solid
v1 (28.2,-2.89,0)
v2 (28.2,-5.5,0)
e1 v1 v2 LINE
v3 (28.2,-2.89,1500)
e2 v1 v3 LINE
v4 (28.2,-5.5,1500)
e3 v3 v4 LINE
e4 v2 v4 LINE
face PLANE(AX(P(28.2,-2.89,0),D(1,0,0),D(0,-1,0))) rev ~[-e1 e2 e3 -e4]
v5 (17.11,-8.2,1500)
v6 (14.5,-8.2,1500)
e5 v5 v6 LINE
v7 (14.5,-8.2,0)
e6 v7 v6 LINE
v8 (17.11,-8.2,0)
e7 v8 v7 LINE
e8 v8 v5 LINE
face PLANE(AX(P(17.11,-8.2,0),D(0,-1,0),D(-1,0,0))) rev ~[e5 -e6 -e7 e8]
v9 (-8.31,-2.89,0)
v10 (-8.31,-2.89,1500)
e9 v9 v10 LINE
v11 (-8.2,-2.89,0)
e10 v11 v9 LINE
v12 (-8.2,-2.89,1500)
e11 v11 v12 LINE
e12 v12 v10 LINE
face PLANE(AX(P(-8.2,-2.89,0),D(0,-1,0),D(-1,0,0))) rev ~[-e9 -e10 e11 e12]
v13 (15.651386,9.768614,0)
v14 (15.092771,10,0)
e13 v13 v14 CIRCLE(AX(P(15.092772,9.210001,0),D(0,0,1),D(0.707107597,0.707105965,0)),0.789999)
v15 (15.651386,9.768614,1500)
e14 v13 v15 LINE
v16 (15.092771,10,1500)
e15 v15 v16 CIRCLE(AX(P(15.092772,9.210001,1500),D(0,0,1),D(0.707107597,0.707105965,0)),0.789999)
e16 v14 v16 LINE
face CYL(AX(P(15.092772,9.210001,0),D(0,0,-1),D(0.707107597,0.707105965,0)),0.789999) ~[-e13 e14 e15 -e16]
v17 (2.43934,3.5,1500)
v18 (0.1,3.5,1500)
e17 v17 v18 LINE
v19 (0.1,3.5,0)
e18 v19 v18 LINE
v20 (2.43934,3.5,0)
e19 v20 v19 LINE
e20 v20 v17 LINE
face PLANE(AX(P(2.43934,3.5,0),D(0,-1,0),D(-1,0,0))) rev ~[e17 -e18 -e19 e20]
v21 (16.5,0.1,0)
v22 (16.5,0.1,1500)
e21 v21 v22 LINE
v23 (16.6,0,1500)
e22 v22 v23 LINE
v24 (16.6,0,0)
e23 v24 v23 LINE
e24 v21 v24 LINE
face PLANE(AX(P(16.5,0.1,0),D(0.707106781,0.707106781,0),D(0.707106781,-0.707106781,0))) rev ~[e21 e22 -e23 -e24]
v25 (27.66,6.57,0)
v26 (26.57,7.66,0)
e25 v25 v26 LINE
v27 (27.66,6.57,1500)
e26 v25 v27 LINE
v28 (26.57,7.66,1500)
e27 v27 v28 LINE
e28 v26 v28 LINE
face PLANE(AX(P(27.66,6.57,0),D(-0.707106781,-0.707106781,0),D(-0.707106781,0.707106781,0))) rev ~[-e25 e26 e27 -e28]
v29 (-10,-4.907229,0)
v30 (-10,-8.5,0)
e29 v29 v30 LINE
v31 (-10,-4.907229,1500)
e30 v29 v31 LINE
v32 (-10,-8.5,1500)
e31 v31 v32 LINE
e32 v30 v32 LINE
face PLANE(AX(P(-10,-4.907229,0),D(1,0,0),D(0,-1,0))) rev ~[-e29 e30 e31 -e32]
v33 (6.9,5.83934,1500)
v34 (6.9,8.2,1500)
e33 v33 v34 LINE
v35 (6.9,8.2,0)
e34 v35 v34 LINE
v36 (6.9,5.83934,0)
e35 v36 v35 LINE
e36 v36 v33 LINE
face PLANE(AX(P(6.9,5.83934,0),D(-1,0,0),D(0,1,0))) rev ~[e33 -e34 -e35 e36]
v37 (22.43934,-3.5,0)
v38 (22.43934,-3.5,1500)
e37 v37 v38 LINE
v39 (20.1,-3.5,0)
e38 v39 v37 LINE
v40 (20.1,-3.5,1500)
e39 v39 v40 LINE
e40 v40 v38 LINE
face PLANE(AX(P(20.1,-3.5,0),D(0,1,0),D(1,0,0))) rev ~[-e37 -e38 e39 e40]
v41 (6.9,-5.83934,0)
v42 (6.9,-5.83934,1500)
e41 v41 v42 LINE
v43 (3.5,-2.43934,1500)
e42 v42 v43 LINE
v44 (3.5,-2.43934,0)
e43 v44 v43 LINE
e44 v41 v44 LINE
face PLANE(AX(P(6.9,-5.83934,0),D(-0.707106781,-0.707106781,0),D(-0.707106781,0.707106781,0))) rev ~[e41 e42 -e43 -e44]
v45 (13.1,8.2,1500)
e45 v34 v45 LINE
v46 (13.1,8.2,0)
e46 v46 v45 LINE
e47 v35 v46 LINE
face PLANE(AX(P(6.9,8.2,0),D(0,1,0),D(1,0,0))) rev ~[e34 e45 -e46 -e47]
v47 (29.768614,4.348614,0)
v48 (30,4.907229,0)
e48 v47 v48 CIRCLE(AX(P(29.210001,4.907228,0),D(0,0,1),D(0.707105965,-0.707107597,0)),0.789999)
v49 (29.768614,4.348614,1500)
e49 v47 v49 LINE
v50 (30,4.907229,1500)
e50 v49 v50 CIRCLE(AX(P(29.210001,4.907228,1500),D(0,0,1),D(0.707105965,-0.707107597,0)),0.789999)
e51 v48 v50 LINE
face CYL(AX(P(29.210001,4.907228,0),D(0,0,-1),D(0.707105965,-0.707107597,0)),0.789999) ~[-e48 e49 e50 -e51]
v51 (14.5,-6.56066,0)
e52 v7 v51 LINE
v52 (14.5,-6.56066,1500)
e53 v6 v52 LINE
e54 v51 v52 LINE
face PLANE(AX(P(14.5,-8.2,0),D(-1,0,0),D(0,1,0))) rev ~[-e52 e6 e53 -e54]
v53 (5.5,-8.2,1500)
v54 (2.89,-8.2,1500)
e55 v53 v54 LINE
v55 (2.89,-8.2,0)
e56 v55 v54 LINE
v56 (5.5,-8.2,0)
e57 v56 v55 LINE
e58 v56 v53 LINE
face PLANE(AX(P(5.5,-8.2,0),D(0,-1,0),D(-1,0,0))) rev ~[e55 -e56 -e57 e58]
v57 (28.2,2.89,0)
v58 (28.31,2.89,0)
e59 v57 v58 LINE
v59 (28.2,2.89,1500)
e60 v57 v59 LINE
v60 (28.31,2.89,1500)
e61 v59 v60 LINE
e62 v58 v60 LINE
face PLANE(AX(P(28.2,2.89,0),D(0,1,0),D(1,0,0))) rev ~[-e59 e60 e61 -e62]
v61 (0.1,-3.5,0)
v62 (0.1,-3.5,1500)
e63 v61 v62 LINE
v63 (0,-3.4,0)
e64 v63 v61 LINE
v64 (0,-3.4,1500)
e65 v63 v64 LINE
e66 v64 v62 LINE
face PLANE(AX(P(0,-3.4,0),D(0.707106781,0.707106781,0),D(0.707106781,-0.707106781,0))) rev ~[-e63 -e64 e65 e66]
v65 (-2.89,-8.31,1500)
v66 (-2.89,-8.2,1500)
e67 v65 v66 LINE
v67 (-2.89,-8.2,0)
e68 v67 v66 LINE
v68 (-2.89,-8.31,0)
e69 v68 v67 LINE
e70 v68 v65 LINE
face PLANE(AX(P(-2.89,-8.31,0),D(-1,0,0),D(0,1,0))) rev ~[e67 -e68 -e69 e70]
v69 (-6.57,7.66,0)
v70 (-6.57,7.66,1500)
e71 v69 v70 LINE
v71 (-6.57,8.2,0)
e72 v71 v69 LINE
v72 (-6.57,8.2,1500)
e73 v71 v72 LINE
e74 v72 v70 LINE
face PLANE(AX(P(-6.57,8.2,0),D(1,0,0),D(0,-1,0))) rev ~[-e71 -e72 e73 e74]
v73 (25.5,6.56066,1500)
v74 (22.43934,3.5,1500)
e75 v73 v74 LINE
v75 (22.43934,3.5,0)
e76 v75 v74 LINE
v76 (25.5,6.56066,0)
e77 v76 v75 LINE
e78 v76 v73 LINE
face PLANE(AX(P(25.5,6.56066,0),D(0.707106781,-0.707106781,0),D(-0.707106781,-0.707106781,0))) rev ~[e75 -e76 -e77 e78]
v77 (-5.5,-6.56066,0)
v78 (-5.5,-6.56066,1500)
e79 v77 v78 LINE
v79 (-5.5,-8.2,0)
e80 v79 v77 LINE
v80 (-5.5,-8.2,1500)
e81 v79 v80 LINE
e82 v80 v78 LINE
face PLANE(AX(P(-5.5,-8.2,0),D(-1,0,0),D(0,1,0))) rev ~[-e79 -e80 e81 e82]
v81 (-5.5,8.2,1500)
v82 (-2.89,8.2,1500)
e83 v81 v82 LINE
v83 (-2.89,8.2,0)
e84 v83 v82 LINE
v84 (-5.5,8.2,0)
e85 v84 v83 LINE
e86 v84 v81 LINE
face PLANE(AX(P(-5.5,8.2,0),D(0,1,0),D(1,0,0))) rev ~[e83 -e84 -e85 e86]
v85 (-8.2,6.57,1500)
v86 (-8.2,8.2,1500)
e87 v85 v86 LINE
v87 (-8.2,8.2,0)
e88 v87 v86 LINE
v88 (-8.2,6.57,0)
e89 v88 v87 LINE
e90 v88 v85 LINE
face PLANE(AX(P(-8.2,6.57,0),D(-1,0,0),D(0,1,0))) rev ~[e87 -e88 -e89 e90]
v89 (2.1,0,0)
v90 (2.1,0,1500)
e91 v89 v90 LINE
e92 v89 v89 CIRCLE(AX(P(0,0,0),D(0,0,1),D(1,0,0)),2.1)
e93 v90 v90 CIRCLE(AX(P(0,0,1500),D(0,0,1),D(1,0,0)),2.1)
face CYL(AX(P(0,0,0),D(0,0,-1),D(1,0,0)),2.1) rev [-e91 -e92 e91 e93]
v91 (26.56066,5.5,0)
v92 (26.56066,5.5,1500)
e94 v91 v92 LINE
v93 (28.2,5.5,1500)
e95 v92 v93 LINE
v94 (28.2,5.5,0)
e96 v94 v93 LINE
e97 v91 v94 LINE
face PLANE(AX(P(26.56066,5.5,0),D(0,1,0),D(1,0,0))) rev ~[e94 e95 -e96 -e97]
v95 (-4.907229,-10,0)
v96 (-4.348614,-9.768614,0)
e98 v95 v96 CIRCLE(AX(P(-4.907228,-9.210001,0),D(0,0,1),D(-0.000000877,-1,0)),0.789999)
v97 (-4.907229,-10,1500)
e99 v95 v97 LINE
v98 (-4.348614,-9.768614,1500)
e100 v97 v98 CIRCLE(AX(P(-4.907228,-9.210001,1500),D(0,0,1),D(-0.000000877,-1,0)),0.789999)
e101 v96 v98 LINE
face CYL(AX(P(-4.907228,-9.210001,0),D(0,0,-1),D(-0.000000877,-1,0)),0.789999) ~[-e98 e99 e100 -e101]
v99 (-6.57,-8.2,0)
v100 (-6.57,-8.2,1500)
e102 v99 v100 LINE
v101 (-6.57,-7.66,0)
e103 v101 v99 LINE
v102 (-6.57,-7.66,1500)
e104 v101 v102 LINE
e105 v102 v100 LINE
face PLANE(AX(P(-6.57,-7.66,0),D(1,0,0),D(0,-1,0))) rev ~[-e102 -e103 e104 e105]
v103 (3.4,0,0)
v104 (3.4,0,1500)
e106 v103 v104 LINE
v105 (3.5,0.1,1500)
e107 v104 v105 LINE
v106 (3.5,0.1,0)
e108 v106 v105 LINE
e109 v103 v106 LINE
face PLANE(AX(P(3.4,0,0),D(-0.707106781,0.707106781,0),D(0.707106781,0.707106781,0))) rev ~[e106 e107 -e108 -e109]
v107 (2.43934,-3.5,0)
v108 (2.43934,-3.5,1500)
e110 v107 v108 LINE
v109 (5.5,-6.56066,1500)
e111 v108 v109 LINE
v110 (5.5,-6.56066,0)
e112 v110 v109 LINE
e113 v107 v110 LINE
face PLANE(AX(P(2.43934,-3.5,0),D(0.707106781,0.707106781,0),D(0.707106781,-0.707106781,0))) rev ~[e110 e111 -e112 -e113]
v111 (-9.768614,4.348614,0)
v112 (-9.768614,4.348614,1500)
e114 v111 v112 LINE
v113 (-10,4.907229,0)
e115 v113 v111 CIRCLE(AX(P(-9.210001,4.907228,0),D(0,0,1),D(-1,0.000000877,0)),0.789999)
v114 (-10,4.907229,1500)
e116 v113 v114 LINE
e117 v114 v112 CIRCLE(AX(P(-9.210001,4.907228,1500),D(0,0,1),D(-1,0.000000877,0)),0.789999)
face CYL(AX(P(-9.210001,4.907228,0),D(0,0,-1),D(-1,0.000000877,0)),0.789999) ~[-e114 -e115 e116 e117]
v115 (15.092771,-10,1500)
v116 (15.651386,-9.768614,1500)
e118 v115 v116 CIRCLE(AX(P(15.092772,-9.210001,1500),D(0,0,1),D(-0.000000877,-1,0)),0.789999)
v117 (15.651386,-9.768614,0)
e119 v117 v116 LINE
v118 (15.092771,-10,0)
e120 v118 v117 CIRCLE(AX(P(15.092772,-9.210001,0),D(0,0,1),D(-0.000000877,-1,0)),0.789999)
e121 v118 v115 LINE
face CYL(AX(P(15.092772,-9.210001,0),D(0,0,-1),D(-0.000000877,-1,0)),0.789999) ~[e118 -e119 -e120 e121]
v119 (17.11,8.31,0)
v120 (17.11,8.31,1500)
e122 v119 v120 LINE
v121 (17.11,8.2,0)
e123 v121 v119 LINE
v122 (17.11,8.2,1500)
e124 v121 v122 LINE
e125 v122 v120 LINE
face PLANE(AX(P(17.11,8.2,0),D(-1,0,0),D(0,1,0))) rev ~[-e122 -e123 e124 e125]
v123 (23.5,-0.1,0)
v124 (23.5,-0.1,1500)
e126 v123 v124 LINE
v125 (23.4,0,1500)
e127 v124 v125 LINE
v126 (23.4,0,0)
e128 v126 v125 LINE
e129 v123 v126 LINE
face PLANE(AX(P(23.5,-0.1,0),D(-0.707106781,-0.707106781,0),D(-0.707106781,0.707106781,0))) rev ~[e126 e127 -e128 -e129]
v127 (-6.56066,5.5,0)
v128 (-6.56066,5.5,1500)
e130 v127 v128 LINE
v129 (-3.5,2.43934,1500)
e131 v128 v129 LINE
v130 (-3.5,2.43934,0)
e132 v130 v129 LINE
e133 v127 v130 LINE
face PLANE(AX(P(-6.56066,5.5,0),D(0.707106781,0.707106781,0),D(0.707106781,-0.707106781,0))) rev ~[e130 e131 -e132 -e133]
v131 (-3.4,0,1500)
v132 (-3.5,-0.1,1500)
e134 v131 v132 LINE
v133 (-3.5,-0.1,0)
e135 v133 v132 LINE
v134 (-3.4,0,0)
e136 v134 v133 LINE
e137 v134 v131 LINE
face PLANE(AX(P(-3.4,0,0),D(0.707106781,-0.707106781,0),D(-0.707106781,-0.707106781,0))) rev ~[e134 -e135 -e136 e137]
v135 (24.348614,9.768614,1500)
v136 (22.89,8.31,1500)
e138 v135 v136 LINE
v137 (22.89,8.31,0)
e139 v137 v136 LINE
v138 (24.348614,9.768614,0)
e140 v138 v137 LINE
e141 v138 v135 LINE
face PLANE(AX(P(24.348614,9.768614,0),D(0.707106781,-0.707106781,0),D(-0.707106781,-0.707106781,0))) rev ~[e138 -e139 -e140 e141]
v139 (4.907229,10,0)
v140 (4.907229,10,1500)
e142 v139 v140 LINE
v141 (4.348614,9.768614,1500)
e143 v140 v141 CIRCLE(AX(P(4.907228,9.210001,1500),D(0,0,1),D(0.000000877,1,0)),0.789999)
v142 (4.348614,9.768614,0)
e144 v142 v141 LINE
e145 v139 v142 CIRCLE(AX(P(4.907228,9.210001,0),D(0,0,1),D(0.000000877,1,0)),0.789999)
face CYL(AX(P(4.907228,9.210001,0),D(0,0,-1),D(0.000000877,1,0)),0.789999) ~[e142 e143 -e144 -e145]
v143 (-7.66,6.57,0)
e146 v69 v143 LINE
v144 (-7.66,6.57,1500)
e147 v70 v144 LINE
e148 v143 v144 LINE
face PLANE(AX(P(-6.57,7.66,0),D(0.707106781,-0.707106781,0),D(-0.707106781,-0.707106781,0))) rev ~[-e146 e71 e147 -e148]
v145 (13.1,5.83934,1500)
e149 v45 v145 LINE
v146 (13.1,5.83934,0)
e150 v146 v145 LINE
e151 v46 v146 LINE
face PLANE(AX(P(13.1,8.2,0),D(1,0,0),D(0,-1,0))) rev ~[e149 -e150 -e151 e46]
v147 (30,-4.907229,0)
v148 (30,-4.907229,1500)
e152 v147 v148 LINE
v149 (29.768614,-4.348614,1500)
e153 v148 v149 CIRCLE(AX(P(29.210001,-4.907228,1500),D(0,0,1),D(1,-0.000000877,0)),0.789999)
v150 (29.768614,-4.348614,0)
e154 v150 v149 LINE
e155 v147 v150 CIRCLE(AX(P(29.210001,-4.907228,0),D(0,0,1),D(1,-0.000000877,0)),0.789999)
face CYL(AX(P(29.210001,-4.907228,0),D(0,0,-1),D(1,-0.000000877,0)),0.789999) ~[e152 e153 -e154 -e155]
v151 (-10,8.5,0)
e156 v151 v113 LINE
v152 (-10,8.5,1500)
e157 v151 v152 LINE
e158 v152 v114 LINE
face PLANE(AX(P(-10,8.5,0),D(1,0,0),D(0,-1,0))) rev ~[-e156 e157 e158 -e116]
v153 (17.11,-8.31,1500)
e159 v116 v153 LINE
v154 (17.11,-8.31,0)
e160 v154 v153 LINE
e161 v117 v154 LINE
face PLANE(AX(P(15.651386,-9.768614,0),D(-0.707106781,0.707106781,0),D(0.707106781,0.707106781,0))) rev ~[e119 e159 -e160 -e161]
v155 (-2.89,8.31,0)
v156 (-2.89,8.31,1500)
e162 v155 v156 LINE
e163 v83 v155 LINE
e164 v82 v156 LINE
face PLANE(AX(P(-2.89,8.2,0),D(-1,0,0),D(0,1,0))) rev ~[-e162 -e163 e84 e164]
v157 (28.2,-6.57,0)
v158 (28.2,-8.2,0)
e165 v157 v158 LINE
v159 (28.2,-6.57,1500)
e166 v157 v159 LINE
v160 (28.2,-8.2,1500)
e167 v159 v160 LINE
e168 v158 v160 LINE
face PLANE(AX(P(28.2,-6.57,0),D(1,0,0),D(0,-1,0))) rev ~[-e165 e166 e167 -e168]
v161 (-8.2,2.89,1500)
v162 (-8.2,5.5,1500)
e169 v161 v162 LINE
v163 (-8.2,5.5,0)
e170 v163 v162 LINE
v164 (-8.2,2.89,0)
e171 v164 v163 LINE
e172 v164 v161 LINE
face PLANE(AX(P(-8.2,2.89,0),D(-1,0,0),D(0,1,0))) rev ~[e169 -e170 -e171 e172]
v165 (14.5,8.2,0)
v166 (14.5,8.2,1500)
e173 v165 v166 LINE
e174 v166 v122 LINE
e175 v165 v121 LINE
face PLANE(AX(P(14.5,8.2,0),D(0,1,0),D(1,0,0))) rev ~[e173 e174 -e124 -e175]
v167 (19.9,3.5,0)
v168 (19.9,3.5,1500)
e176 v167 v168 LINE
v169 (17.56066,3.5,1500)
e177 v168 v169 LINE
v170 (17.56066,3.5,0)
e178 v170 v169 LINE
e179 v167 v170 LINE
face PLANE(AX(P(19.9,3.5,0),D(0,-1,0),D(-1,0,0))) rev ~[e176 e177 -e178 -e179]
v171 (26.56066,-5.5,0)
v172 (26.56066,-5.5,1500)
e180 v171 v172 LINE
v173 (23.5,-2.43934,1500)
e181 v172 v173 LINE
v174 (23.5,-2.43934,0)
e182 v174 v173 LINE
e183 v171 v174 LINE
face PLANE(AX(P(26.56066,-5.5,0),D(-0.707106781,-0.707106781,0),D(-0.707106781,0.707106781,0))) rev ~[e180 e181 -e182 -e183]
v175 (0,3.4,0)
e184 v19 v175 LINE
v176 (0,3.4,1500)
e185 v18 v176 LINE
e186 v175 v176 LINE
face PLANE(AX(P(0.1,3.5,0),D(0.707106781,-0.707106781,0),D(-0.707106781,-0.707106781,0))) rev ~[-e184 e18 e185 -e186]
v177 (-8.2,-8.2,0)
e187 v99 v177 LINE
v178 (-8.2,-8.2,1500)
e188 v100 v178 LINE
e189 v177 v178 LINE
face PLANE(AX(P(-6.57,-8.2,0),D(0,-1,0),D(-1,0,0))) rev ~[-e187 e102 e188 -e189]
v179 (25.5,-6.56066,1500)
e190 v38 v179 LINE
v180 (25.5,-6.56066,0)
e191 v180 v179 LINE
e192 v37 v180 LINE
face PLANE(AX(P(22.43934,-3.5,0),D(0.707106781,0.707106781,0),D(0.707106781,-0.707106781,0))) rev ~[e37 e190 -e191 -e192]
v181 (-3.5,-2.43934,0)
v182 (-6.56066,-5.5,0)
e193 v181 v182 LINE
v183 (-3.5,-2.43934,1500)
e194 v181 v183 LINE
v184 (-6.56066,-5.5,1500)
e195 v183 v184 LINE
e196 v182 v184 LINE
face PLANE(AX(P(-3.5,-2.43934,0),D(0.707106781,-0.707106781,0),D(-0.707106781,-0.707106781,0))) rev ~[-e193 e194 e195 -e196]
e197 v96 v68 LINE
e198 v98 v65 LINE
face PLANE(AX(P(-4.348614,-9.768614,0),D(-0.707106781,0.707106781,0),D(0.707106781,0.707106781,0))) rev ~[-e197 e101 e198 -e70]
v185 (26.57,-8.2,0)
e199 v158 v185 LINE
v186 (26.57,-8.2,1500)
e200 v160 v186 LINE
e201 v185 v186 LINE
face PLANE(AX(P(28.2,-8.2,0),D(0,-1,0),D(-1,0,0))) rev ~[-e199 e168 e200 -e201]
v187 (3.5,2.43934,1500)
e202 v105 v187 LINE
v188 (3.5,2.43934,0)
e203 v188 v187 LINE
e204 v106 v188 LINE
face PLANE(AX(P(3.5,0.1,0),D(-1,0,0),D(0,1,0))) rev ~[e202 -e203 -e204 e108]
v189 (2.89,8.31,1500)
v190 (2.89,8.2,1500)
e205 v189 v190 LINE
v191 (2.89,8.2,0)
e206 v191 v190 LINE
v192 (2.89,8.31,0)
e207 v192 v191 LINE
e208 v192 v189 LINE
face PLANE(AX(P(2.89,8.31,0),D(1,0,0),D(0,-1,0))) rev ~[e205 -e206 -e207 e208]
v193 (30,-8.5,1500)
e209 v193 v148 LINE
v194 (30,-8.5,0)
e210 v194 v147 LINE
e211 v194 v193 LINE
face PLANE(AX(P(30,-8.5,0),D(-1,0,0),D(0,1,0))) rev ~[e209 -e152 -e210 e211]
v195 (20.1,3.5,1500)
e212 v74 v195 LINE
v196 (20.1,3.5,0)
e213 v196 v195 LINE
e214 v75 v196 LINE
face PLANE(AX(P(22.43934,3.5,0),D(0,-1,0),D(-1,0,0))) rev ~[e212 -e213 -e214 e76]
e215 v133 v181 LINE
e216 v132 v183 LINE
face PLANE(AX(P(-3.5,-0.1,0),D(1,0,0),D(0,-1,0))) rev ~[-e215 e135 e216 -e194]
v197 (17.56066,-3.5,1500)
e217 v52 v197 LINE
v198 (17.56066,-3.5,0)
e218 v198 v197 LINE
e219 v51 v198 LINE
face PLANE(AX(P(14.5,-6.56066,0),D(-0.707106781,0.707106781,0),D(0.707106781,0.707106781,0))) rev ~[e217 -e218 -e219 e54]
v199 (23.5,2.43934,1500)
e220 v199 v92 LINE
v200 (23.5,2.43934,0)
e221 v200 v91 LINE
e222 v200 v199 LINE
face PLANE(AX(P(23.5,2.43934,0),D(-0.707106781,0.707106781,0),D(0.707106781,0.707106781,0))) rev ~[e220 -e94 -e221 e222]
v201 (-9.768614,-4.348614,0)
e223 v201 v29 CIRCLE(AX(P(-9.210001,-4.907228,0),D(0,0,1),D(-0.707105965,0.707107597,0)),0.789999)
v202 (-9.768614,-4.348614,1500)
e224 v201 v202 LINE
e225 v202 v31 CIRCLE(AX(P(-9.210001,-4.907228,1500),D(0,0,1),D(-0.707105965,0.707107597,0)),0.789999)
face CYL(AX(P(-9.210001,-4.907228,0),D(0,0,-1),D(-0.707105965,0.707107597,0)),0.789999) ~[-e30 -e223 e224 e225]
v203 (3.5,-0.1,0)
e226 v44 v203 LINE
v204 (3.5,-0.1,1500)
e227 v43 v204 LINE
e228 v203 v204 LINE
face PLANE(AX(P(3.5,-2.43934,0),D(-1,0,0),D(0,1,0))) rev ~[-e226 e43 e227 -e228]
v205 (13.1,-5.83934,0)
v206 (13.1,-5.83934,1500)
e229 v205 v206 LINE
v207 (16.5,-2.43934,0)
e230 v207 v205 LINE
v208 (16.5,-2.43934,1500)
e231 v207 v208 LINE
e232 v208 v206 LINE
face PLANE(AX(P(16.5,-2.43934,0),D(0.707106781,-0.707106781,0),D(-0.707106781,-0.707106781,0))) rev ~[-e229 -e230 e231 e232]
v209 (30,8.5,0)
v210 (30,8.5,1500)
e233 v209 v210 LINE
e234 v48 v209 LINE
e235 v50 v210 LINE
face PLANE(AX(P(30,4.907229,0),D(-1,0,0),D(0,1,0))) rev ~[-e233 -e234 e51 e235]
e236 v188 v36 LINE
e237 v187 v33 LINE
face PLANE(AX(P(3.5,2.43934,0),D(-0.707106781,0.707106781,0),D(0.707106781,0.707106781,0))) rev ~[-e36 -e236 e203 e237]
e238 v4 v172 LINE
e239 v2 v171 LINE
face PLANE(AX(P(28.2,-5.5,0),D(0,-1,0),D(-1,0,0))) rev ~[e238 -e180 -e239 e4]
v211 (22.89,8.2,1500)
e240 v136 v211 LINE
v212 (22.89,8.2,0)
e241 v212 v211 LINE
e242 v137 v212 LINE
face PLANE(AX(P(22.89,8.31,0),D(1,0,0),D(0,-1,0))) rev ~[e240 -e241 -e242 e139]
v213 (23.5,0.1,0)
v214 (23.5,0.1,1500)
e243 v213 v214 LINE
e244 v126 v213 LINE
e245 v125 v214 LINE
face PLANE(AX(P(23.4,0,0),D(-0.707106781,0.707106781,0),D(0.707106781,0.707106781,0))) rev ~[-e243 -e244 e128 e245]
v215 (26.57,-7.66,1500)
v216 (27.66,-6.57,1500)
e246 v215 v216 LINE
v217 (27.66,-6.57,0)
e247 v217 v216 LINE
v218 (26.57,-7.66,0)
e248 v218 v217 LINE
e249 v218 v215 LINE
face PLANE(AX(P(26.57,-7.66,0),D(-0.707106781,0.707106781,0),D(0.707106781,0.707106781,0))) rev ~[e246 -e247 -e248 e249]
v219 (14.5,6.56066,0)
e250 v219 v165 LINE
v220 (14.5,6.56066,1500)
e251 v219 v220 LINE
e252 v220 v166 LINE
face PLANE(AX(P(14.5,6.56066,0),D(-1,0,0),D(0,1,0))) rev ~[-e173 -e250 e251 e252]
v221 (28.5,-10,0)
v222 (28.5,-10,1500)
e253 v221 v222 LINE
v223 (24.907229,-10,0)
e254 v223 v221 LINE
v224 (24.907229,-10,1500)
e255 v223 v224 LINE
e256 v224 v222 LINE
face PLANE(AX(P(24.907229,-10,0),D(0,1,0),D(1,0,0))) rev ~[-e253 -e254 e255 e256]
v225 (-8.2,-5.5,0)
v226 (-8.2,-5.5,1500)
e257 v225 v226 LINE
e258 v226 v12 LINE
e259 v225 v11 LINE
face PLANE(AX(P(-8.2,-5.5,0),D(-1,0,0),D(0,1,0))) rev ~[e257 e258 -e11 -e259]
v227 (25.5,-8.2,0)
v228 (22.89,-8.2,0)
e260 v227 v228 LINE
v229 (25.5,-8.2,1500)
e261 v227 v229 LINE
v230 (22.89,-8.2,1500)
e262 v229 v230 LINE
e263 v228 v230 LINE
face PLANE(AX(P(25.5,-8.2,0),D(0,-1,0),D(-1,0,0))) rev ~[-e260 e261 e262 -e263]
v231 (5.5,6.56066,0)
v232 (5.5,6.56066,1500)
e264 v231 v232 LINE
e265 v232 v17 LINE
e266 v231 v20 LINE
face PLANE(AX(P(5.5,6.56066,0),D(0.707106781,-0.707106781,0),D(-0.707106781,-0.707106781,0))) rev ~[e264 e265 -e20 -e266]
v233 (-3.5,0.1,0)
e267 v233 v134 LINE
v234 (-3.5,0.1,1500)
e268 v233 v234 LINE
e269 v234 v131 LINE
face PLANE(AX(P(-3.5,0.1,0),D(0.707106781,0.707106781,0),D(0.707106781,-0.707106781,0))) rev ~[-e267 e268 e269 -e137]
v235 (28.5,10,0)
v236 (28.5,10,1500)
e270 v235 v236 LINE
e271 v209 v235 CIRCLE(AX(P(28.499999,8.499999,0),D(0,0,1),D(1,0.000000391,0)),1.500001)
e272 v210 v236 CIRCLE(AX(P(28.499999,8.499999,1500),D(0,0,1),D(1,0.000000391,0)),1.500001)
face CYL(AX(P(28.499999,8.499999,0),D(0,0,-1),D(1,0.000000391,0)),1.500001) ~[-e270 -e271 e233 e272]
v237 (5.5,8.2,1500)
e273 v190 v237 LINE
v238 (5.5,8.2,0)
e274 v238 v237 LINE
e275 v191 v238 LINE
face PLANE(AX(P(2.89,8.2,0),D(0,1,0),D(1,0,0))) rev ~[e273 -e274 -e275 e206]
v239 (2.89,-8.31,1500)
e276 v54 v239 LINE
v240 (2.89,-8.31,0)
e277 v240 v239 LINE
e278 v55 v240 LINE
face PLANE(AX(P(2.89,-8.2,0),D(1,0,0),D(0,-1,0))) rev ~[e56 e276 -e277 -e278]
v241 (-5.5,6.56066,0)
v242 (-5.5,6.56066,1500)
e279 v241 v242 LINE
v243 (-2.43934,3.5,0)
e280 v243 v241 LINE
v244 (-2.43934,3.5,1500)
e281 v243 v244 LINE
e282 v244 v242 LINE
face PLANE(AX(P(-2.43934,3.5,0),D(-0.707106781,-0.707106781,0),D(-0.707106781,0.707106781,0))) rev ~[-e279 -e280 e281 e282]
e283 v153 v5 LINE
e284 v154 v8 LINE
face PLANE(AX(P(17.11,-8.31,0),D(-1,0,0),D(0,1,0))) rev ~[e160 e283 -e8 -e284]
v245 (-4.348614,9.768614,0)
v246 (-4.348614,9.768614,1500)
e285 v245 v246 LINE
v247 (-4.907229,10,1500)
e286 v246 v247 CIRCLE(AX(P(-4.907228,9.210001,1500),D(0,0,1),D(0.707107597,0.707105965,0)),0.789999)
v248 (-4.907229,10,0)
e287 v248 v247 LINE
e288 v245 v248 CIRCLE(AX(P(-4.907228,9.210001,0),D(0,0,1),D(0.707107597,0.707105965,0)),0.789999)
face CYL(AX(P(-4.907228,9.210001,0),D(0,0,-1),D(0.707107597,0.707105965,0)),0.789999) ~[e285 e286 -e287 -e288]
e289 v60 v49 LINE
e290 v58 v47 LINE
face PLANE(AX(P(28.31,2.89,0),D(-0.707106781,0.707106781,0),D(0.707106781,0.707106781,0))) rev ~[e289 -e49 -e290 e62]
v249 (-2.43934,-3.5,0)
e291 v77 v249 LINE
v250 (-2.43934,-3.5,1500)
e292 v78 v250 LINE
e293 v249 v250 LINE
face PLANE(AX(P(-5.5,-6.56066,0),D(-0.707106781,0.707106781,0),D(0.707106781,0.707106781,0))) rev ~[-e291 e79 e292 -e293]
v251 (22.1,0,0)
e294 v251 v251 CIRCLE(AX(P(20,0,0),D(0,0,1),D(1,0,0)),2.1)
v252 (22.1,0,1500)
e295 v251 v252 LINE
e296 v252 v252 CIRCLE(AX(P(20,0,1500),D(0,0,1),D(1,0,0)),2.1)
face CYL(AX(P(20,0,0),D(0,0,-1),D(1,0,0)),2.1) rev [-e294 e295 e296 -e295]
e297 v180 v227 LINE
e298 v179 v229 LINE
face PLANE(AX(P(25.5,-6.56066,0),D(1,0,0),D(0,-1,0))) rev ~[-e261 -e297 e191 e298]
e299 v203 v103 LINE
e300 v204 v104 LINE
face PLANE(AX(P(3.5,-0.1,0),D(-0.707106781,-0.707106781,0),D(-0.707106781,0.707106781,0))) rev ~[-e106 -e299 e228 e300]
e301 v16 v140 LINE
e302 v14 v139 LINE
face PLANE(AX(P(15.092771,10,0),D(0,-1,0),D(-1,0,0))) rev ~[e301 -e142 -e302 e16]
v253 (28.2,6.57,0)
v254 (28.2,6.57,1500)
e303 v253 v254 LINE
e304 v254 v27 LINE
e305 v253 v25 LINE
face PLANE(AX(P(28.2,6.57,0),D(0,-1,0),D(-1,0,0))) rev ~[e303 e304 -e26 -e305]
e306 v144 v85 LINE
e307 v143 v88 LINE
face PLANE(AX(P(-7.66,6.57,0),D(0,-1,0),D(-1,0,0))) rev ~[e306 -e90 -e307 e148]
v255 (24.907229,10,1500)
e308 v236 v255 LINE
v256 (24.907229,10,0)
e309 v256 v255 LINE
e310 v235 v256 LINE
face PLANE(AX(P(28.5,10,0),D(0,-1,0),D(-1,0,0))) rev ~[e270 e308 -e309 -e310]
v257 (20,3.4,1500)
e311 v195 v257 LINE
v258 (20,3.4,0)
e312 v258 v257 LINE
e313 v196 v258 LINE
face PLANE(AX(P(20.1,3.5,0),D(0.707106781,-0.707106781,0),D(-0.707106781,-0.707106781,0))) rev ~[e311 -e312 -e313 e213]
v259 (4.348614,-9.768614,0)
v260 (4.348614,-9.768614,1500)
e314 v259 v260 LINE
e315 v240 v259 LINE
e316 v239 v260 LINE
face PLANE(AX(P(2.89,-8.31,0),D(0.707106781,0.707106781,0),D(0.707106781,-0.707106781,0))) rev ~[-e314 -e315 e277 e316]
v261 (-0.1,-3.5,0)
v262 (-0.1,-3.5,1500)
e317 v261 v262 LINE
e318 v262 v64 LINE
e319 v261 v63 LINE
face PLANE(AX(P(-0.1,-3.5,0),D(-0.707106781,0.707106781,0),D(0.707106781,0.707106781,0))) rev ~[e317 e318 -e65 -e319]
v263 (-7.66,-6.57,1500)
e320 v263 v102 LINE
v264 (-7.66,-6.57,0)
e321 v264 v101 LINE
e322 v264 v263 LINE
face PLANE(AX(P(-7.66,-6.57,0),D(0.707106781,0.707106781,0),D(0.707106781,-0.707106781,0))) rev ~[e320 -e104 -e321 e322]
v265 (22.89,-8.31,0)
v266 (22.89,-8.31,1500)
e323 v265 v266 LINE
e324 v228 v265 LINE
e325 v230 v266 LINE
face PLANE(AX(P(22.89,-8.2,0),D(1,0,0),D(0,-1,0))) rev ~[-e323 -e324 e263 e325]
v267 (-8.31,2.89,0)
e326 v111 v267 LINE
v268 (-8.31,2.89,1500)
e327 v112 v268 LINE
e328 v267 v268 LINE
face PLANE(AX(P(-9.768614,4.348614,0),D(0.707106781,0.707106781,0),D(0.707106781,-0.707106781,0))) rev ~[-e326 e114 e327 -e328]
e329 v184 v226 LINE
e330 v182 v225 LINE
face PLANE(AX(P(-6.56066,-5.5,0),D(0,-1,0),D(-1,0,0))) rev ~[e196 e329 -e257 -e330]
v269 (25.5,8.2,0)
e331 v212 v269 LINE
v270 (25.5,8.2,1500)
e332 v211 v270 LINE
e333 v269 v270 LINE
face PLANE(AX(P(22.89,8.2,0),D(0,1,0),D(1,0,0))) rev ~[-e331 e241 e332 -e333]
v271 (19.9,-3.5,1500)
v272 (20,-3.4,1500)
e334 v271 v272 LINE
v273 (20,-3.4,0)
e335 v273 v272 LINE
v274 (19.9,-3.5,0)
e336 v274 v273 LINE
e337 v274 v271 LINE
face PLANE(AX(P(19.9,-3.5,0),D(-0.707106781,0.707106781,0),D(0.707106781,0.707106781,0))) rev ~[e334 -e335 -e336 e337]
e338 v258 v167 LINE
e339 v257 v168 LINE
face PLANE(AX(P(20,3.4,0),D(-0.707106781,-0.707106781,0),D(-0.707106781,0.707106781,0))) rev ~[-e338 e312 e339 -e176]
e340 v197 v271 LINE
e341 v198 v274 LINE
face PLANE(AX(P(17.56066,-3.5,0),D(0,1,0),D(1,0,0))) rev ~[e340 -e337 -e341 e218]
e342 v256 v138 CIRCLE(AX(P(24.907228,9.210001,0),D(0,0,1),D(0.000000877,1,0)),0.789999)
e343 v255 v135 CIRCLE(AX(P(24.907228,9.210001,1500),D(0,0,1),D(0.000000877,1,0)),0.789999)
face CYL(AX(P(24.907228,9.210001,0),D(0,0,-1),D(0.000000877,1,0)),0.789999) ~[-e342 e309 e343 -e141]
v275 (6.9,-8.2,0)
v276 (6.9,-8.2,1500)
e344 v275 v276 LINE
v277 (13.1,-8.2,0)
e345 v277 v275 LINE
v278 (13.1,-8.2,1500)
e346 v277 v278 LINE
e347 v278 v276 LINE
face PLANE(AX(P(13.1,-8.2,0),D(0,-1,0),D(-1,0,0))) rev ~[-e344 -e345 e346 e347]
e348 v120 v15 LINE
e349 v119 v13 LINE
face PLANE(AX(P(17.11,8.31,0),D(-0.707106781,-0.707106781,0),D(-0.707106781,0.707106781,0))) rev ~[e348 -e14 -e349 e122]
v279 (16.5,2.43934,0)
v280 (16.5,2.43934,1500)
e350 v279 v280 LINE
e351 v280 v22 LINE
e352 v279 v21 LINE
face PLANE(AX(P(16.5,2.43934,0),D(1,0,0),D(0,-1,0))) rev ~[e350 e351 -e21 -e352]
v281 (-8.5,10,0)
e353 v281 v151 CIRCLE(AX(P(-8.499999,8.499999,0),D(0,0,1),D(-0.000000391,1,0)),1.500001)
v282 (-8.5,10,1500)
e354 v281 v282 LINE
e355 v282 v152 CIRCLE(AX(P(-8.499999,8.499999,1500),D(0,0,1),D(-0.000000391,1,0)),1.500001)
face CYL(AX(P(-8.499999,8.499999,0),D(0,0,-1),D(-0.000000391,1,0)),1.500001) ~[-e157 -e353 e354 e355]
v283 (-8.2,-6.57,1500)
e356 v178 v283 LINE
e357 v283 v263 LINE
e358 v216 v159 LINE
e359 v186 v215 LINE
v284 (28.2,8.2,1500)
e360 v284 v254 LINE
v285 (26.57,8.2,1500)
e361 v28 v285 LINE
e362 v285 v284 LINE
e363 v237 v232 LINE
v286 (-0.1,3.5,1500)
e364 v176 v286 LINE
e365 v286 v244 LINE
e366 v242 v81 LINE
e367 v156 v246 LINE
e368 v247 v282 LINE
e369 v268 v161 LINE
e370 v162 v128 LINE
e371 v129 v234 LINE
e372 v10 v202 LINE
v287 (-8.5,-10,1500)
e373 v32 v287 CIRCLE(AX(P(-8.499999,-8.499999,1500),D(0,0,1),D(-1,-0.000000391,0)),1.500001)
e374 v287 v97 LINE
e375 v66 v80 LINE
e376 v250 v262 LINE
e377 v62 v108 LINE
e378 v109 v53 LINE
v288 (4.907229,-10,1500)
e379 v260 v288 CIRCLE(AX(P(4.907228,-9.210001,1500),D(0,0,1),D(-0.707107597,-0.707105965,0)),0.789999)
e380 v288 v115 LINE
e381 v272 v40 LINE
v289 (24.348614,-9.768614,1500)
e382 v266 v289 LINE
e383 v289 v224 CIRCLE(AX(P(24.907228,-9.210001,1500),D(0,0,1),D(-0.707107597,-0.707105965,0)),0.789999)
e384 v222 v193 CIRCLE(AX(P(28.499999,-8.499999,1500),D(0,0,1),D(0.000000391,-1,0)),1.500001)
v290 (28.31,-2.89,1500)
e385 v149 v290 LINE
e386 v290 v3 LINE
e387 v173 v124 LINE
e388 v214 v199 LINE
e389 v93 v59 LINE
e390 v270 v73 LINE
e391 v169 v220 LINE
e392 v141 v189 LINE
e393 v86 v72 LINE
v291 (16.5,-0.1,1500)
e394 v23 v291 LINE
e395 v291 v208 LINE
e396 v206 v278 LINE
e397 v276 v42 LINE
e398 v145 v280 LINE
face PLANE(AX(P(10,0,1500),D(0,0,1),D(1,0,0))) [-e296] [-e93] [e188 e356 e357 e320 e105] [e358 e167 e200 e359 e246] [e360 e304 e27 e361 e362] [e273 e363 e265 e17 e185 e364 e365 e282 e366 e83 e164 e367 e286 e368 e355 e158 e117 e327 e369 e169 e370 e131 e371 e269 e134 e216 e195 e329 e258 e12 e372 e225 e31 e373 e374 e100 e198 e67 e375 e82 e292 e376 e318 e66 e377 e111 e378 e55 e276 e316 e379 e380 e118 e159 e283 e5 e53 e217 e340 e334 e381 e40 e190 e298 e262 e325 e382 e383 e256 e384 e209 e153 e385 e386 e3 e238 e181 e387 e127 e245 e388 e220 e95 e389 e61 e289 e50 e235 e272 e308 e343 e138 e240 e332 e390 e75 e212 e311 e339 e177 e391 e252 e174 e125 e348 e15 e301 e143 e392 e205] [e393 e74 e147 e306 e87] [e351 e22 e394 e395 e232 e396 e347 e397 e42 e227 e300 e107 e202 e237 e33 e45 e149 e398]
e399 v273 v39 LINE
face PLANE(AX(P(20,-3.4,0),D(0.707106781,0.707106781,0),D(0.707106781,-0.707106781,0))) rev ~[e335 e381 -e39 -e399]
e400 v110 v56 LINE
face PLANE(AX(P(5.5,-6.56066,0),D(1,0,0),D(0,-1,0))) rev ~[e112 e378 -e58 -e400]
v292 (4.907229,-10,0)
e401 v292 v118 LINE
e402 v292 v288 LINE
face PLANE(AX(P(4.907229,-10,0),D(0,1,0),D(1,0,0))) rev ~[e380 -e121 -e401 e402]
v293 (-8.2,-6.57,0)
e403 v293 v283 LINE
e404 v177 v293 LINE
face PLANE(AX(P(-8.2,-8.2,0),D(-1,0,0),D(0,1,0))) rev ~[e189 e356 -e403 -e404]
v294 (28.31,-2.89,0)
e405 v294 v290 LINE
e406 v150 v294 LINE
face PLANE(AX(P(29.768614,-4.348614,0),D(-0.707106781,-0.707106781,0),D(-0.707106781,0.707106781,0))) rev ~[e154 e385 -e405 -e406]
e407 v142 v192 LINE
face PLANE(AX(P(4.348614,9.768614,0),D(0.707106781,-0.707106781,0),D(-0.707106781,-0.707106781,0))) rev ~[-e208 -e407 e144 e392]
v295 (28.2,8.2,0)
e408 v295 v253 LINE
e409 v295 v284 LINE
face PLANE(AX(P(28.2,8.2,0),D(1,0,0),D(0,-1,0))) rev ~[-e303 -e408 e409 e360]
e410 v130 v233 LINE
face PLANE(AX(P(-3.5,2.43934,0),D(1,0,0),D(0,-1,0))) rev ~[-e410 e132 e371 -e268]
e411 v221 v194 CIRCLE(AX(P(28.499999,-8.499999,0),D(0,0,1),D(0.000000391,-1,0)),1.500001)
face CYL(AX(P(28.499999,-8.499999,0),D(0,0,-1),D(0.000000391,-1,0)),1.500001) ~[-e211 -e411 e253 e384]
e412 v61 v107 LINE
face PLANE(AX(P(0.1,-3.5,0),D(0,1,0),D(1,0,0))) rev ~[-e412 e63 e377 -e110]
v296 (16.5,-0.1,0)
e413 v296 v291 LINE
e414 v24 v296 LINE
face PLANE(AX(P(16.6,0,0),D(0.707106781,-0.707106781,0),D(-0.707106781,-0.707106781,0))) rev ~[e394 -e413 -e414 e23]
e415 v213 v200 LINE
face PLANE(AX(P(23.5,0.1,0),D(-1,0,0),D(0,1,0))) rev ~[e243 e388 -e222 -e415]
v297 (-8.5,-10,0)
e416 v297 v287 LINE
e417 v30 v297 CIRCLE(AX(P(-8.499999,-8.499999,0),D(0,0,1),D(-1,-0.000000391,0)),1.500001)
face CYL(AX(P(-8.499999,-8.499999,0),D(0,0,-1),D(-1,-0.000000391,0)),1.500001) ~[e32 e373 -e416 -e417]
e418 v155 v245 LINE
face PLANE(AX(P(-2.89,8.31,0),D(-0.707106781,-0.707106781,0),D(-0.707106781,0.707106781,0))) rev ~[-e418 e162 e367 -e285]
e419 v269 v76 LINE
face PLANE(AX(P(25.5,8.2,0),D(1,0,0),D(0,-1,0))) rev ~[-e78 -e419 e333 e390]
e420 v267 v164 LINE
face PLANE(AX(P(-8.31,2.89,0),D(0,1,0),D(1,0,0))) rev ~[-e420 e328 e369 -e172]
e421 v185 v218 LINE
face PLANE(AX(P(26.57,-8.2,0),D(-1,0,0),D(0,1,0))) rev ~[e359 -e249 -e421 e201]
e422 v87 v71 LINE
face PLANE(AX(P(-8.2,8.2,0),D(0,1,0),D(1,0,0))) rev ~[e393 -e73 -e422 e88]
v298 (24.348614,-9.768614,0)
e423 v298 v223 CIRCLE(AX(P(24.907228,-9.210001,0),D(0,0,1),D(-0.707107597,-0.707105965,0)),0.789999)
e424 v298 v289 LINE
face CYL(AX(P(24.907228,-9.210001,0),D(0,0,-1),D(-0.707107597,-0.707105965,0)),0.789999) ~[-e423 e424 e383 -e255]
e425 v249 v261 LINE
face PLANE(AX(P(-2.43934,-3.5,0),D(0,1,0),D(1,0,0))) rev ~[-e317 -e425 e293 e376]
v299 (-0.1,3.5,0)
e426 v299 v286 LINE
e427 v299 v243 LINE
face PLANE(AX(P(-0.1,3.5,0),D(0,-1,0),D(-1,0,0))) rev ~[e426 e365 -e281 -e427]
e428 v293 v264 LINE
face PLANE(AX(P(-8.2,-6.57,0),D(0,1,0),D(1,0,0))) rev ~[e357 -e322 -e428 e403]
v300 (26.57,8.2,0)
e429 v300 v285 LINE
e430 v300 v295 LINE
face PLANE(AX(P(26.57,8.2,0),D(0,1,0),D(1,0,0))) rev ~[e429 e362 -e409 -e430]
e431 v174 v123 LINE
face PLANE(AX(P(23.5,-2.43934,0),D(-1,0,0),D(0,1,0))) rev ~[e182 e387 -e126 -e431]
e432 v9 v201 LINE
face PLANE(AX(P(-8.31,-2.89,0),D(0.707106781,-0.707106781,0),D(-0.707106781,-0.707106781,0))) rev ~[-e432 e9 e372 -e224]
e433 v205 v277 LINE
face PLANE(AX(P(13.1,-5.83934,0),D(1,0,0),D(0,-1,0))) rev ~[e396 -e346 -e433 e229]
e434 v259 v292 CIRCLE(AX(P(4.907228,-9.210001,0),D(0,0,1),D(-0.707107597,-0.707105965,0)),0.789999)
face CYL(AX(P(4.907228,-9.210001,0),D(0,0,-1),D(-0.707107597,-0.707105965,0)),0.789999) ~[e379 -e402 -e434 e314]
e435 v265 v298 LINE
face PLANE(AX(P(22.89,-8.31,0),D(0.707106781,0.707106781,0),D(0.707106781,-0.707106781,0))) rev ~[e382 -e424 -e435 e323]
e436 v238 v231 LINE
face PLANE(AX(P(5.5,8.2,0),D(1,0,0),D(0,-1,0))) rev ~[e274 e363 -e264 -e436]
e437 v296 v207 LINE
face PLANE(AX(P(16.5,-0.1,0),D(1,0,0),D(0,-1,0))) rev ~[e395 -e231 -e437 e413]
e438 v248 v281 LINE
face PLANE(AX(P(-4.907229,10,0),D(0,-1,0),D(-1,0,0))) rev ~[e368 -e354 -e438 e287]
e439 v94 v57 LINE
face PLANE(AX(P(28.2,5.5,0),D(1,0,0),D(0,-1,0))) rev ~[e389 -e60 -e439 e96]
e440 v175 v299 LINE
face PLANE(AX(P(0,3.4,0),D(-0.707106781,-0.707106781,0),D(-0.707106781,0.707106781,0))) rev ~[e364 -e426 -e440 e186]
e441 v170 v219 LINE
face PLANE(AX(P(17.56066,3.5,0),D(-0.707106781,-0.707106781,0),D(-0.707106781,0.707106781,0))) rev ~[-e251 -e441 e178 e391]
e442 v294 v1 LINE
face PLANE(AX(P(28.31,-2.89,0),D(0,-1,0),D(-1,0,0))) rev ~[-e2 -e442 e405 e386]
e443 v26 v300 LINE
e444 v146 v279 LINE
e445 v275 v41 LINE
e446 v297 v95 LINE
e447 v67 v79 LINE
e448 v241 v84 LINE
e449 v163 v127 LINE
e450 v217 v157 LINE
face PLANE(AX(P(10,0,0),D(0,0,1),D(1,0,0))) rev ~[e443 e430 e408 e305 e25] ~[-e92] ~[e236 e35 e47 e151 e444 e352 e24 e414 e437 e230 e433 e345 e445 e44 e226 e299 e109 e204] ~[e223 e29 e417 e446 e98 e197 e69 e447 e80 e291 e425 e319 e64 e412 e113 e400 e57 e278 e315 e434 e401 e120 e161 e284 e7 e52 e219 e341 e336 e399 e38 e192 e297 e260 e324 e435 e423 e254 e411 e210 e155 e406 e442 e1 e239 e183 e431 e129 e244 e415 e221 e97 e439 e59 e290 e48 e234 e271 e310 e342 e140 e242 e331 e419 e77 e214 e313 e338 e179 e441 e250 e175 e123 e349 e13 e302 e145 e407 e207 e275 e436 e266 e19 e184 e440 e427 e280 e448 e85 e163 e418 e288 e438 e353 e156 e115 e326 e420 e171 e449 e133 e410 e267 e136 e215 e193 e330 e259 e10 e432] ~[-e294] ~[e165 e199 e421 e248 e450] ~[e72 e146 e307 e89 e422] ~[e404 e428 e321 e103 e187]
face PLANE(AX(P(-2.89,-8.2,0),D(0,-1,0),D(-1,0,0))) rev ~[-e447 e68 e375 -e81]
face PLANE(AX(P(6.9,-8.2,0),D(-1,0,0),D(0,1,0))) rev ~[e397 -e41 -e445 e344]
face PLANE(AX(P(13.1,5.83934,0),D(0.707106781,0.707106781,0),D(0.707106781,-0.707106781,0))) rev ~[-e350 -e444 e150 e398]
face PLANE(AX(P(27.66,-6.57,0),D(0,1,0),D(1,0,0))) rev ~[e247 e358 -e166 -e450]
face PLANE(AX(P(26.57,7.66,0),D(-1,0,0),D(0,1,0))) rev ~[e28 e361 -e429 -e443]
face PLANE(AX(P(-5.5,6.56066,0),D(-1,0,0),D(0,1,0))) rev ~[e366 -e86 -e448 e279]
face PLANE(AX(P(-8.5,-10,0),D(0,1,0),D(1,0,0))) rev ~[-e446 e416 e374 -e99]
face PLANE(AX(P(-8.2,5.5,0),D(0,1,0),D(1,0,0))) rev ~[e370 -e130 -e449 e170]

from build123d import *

# Parameters (mm, degrees)
F0_R     = 2.1
F1_DEPTH = 1500


with BuildPart() as f1:
    # F0 (on Top) → F1 (new body)
    with BuildSketch(Plane.XY):
        with BuildLine():
            Line((-3.4, 0), (-3.5, -0.1))
            Line((-3.5, -0.1), (-3.5, -2.43934))
            Line((-3.5, -2.43934), (-6.56066, -5.5))
            Line((-6.56066, -5.5), (-8.2, -5.5))
            Line((-8.2, -5.5), (-8.2, -2.89))
            Line((-8.2, -2.89), (-8.31, -2.89))
            Line((-8.31, -2.89), (-9.768614, -4.348614))
            ThreePointArc((-9.768614, -4.348614), (-9.939865, -4.604909), (-10, -4.907229))
            Line((-10, -4.907229), (-10, -8.5))
            ThreePointArc((-10, -8.5), (-9.56066, -9.56066), (-8.5, -10))
            Line((-8.5, -10), (-4.907229, -10))
            ThreePointArc((-4.907229, -10), (-4.604909, -9.939865), (-4.348614, -9.768614))
            Line((-4.348614, -9.768614), (-2.89, -8.31))
            Line((-2.89, -8.31), (-2.89, -8.2))
            Line((-2.89, -8.2), (-5.5, -8.2))
            Line((-5.5, -8.2), (-5.5, -6.56066))
            Line((-5.5, -6.56066), (-2.43934, -3.5))
            Line((-2.43934, -3.5), (-0.1, -3.5))
            Line((-0.1, -3.5), (0, -3.4))
            Line((0, -3.4), (0.1, -3.5))
            Line((0.1, -3.5), (2.43934, -3.5))
            Line((2.43934, -3.5), (5.5, -6.56066))
            Line((5.5, -6.56066), (5.5, -8.2))
            Line((5.5, -8.2), (2.89, -8.2))
            Line((2.89, -8.2), (2.89, -8.31))
            Line((2.89, -8.31), (4.348614, -9.768614))
            ThreePointArc((4.348614, -9.768614), (4.604909, -9.939865), (4.907229, -10))
            Line((4.907229, -10), (10, -10))
            Line((10, -10), (15.092771, -10))
            ThreePointArc((15.092771, -10), (15.395091, -9.939865), (15.651386, -9.768614))
            Line((15.651386, -9.768614), (17.11, -8.31))
            Line((17.11, -8.31), (17.11, -8.2))
            Line((17.11, -8.2), (14.5, -8.2))
            Line((14.5, -8.2), (14.5, -6.56066))
            Line((14.5, -6.56066), (17.56066, -3.5))
            Line((17.56066, -3.5), (19.9, -3.5))
            Line((19.9, -3.5), (20, -3.4))
            Line((20, -3.4), (20.1, -3.5))
            Line((20.1, -3.5), (22.43934, -3.5))
            Line((22.43934, -3.5), (25.5, -6.56066))
            Line((25.5, -6.56066), (25.5, -8.2))
            Line((25.5, -8.2), (22.89, -8.2))
            Line((22.89, -8.2), (22.89, -8.31))
            Line((22.89, -8.31), (24.348614, -9.768614))
            ThreePointArc((24.348614, -9.768614), (24.604909, -9.939865), (24.907229, -10))
            Line((24.907229, -10), (28.5, -10))
            ThreePointArc((28.5, -10), (29.56066, -9.56066), (30, -8.5))
            Line((30, -8.5), (30, -4.907229))
            ThreePointArc((30, -4.907229), (29.939865, -4.604909), (29.768614, -4.348614))
            Line((29.768614, -4.348614), (28.31, -2.89))
            Line((28.31, -2.89), (28.2, -2.89))
            Line((28.2, -2.89), (28.2, -5.5))
            Line((28.2, -5.5), (26.56066, -5.5))
            Line((26.56066, -5.5), (23.5, -2.43934))
            Line((23.5, -2.43934), (23.5, -0.1))
            Line((23.5, -0.1), (23.4, 0))
            Line((23.4, 0), (23.5, 0.1))
            Line((23.5, 0.1), (23.5, 2.43934))
            Line((23.5, 2.43934), (26.56066, 5.5))
            Line((26.56066, 5.5), (28.2, 5.5))
            Line((28.2, 5.5), (28.2, 2.89))
            Line((28.2, 2.89), (28.31, 2.89))
            Line((28.31, 2.89), (29.768614, 4.348614))
            ThreePointArc((29.768614, 4.348614), (29.939865, 4.604909), (30, 4.907229))
            Line((30, 4.907229), (30, 8.5))
            ThreePointArc((30, 8.5), (29.56066, 9.56066), (28.5, 10))
            Line((28.5, 10), (24.907229, 10))
            ThreePointArc((24.907229, 10), (24.604909, 9.939865), (24.348614, 9.768614))
            Line((24.348614, 9.768614), (22.89, 8.31))
            Line((22.89, 8.31), (22.89, 8.2))
            Line((22.89, 8.2), (25.5, 8.2))
            Line((25.5, 8.2), (25.5, 6.56066))
            Line((25.5, 6.56066), (22.43934, 3.5))
            Line((22.43934, 3.5), (20.1, 3.5))
            Line((20.1, 3.5), (20, 3.4))
            Line((20, 3.4), (19.9, 3.5))
            Line((19.9, 3.5), (17.56066, 3.5))
            Line((17.56066, 3.5), (14.5, 6.56066))
            Line((14.5, 6.56066), (14.5, 8.2))
            Line((14.5, 8.2), (17.11, 8.2))
            Line((17.11, 8.2), (17.11, 8.31))
            Line((17.11, 8.31), (15.651386, 9.768614))
            ThreePointArc((15.651386, 9.768614), (15.395091, 9.939865), (15.092771, 10))
            Line((15.092771, 10), (10, 10))
            Line((10, 10), (4.907229, 10))
            ThreePointArc((4.907229, 10), (4.604909, 9.939865), (4.348614, 9.768614))
            Line((4.348614, 9.768614), (2.89, 8.31))
            Line((2.89, 8.31), (2.89, 8.2))
            Line((2.89, 8.2), (5.5, 8.2))
            Line((5.5, 8.2), (5.5, 6.56066))
            Line((5.5, 6.56066), (2.43934, 3.5))
            Line((2.43934, 3.5), (0.1, 3.5))
            Line((0.1, 3.5), (0, 3.4))
            Line((0, 3.4), (-0.1, 3.5))
            Line((-0.1, 3.5), (-2.43934, 3.5))
            Line((-2.43934, 3.5), (-5.5, 6.56066))
            Line((-5.5, 6.56066), (-5.5, 8.2))
            Line((-5.5, 8.2), (-2.89, 8.2))
            Line((-2.89, 8.2), (-2.89, 8.31))
            Line((-2.89, 8.31), (-4.348614, 9.768614))
            ThreePointArc((-4.348614, 9.768614), (-4.604909, 9.939865), (-4.907229, 10))
            Line((-4.907229, 10), (-8.5, 10))
            ThreePointArc((-8.5, 10), (-9.56066, 9.56066), (-10, 8.5))
            Line((-10, 8.5), (-10, 4.907229))
            ThreePointArc((-10, 4.907229), (-9.939865, 4.604909), (-9.768614, 4.348614))
            Line((-9.768614, 4.348614), (-8.31, 2.89))
            Line((-8.31, 2.89), (-8.2, 2.89))
            Line((-8.2, 2.89), (-8.2, 5.5))
            Line((-8.2, 5.5), (-6.56066, 5.5))
            Line((-6.56066, 5.5), (-3.5, 2.43934))
            Line((-3.5, 2.43934), (-3.5, 0.1))
            Line((-3.5, 0.1), (-3.4, 0))
        make_face()
        Polygon((-7.66, -6.57), (-7.115, -7.115), (-6.57, -7.66), (-6.57, -8.2), (-8.2, -8.2), (-8.2, -6.57), align=None, mode=Mode.SUBTRACT)
        Polygon((27.115, -7.115), (27.66, -6.57), (28.2, -6.57), (28.2, -8.2), (26.57, -8.2), (26.57, -7.66), align=None, mode=Mode.SUBTRACT)
        Circle(F0_R, mode=Mode.SUBTRACT)
        Polygon((-6.57, 8.2), (-6.57, 7.66), (-7.115, 7.115), (-7.66, 6.57), (-8.2, 6.57), (-8.2, 8.2), align=None, mode=Mode.SUBTRACT)
        Polygon((3.5, -2.43934), (3.5, -0.1), (3.4, 0), (3.5, 0.1), (3.5, 2.43934), (6.9, 5.83934), (6.9, 8.2), (10, 8.2), (13.1, 8.2), (13.1, 5.83934), (16.5, 2.43934), (16.5, 0.1), (16.6, 0), (16.5, -0.1), (16.5, -2.43934), (13.1, -5.83934), (13.1, -8.2), (10, -8.2), (6.9, -8.2), (6.9, -5.83934), align=None, mode=Mode.SUBTRACT)
        with Locations((20, 0)):
            Circle(F0_R, mode=Mode.SUBTRACT)
        Polygon((27.66, 6.57), (27.115, 7.115), (26.57, 7.66), (26.57, 8.2), (28.2, 8.2), (28.2, 6.57), align=None, mode=Mode.SUBTRACT)
    extrude(amount=F1_DEPTH)


solid = f1.part
